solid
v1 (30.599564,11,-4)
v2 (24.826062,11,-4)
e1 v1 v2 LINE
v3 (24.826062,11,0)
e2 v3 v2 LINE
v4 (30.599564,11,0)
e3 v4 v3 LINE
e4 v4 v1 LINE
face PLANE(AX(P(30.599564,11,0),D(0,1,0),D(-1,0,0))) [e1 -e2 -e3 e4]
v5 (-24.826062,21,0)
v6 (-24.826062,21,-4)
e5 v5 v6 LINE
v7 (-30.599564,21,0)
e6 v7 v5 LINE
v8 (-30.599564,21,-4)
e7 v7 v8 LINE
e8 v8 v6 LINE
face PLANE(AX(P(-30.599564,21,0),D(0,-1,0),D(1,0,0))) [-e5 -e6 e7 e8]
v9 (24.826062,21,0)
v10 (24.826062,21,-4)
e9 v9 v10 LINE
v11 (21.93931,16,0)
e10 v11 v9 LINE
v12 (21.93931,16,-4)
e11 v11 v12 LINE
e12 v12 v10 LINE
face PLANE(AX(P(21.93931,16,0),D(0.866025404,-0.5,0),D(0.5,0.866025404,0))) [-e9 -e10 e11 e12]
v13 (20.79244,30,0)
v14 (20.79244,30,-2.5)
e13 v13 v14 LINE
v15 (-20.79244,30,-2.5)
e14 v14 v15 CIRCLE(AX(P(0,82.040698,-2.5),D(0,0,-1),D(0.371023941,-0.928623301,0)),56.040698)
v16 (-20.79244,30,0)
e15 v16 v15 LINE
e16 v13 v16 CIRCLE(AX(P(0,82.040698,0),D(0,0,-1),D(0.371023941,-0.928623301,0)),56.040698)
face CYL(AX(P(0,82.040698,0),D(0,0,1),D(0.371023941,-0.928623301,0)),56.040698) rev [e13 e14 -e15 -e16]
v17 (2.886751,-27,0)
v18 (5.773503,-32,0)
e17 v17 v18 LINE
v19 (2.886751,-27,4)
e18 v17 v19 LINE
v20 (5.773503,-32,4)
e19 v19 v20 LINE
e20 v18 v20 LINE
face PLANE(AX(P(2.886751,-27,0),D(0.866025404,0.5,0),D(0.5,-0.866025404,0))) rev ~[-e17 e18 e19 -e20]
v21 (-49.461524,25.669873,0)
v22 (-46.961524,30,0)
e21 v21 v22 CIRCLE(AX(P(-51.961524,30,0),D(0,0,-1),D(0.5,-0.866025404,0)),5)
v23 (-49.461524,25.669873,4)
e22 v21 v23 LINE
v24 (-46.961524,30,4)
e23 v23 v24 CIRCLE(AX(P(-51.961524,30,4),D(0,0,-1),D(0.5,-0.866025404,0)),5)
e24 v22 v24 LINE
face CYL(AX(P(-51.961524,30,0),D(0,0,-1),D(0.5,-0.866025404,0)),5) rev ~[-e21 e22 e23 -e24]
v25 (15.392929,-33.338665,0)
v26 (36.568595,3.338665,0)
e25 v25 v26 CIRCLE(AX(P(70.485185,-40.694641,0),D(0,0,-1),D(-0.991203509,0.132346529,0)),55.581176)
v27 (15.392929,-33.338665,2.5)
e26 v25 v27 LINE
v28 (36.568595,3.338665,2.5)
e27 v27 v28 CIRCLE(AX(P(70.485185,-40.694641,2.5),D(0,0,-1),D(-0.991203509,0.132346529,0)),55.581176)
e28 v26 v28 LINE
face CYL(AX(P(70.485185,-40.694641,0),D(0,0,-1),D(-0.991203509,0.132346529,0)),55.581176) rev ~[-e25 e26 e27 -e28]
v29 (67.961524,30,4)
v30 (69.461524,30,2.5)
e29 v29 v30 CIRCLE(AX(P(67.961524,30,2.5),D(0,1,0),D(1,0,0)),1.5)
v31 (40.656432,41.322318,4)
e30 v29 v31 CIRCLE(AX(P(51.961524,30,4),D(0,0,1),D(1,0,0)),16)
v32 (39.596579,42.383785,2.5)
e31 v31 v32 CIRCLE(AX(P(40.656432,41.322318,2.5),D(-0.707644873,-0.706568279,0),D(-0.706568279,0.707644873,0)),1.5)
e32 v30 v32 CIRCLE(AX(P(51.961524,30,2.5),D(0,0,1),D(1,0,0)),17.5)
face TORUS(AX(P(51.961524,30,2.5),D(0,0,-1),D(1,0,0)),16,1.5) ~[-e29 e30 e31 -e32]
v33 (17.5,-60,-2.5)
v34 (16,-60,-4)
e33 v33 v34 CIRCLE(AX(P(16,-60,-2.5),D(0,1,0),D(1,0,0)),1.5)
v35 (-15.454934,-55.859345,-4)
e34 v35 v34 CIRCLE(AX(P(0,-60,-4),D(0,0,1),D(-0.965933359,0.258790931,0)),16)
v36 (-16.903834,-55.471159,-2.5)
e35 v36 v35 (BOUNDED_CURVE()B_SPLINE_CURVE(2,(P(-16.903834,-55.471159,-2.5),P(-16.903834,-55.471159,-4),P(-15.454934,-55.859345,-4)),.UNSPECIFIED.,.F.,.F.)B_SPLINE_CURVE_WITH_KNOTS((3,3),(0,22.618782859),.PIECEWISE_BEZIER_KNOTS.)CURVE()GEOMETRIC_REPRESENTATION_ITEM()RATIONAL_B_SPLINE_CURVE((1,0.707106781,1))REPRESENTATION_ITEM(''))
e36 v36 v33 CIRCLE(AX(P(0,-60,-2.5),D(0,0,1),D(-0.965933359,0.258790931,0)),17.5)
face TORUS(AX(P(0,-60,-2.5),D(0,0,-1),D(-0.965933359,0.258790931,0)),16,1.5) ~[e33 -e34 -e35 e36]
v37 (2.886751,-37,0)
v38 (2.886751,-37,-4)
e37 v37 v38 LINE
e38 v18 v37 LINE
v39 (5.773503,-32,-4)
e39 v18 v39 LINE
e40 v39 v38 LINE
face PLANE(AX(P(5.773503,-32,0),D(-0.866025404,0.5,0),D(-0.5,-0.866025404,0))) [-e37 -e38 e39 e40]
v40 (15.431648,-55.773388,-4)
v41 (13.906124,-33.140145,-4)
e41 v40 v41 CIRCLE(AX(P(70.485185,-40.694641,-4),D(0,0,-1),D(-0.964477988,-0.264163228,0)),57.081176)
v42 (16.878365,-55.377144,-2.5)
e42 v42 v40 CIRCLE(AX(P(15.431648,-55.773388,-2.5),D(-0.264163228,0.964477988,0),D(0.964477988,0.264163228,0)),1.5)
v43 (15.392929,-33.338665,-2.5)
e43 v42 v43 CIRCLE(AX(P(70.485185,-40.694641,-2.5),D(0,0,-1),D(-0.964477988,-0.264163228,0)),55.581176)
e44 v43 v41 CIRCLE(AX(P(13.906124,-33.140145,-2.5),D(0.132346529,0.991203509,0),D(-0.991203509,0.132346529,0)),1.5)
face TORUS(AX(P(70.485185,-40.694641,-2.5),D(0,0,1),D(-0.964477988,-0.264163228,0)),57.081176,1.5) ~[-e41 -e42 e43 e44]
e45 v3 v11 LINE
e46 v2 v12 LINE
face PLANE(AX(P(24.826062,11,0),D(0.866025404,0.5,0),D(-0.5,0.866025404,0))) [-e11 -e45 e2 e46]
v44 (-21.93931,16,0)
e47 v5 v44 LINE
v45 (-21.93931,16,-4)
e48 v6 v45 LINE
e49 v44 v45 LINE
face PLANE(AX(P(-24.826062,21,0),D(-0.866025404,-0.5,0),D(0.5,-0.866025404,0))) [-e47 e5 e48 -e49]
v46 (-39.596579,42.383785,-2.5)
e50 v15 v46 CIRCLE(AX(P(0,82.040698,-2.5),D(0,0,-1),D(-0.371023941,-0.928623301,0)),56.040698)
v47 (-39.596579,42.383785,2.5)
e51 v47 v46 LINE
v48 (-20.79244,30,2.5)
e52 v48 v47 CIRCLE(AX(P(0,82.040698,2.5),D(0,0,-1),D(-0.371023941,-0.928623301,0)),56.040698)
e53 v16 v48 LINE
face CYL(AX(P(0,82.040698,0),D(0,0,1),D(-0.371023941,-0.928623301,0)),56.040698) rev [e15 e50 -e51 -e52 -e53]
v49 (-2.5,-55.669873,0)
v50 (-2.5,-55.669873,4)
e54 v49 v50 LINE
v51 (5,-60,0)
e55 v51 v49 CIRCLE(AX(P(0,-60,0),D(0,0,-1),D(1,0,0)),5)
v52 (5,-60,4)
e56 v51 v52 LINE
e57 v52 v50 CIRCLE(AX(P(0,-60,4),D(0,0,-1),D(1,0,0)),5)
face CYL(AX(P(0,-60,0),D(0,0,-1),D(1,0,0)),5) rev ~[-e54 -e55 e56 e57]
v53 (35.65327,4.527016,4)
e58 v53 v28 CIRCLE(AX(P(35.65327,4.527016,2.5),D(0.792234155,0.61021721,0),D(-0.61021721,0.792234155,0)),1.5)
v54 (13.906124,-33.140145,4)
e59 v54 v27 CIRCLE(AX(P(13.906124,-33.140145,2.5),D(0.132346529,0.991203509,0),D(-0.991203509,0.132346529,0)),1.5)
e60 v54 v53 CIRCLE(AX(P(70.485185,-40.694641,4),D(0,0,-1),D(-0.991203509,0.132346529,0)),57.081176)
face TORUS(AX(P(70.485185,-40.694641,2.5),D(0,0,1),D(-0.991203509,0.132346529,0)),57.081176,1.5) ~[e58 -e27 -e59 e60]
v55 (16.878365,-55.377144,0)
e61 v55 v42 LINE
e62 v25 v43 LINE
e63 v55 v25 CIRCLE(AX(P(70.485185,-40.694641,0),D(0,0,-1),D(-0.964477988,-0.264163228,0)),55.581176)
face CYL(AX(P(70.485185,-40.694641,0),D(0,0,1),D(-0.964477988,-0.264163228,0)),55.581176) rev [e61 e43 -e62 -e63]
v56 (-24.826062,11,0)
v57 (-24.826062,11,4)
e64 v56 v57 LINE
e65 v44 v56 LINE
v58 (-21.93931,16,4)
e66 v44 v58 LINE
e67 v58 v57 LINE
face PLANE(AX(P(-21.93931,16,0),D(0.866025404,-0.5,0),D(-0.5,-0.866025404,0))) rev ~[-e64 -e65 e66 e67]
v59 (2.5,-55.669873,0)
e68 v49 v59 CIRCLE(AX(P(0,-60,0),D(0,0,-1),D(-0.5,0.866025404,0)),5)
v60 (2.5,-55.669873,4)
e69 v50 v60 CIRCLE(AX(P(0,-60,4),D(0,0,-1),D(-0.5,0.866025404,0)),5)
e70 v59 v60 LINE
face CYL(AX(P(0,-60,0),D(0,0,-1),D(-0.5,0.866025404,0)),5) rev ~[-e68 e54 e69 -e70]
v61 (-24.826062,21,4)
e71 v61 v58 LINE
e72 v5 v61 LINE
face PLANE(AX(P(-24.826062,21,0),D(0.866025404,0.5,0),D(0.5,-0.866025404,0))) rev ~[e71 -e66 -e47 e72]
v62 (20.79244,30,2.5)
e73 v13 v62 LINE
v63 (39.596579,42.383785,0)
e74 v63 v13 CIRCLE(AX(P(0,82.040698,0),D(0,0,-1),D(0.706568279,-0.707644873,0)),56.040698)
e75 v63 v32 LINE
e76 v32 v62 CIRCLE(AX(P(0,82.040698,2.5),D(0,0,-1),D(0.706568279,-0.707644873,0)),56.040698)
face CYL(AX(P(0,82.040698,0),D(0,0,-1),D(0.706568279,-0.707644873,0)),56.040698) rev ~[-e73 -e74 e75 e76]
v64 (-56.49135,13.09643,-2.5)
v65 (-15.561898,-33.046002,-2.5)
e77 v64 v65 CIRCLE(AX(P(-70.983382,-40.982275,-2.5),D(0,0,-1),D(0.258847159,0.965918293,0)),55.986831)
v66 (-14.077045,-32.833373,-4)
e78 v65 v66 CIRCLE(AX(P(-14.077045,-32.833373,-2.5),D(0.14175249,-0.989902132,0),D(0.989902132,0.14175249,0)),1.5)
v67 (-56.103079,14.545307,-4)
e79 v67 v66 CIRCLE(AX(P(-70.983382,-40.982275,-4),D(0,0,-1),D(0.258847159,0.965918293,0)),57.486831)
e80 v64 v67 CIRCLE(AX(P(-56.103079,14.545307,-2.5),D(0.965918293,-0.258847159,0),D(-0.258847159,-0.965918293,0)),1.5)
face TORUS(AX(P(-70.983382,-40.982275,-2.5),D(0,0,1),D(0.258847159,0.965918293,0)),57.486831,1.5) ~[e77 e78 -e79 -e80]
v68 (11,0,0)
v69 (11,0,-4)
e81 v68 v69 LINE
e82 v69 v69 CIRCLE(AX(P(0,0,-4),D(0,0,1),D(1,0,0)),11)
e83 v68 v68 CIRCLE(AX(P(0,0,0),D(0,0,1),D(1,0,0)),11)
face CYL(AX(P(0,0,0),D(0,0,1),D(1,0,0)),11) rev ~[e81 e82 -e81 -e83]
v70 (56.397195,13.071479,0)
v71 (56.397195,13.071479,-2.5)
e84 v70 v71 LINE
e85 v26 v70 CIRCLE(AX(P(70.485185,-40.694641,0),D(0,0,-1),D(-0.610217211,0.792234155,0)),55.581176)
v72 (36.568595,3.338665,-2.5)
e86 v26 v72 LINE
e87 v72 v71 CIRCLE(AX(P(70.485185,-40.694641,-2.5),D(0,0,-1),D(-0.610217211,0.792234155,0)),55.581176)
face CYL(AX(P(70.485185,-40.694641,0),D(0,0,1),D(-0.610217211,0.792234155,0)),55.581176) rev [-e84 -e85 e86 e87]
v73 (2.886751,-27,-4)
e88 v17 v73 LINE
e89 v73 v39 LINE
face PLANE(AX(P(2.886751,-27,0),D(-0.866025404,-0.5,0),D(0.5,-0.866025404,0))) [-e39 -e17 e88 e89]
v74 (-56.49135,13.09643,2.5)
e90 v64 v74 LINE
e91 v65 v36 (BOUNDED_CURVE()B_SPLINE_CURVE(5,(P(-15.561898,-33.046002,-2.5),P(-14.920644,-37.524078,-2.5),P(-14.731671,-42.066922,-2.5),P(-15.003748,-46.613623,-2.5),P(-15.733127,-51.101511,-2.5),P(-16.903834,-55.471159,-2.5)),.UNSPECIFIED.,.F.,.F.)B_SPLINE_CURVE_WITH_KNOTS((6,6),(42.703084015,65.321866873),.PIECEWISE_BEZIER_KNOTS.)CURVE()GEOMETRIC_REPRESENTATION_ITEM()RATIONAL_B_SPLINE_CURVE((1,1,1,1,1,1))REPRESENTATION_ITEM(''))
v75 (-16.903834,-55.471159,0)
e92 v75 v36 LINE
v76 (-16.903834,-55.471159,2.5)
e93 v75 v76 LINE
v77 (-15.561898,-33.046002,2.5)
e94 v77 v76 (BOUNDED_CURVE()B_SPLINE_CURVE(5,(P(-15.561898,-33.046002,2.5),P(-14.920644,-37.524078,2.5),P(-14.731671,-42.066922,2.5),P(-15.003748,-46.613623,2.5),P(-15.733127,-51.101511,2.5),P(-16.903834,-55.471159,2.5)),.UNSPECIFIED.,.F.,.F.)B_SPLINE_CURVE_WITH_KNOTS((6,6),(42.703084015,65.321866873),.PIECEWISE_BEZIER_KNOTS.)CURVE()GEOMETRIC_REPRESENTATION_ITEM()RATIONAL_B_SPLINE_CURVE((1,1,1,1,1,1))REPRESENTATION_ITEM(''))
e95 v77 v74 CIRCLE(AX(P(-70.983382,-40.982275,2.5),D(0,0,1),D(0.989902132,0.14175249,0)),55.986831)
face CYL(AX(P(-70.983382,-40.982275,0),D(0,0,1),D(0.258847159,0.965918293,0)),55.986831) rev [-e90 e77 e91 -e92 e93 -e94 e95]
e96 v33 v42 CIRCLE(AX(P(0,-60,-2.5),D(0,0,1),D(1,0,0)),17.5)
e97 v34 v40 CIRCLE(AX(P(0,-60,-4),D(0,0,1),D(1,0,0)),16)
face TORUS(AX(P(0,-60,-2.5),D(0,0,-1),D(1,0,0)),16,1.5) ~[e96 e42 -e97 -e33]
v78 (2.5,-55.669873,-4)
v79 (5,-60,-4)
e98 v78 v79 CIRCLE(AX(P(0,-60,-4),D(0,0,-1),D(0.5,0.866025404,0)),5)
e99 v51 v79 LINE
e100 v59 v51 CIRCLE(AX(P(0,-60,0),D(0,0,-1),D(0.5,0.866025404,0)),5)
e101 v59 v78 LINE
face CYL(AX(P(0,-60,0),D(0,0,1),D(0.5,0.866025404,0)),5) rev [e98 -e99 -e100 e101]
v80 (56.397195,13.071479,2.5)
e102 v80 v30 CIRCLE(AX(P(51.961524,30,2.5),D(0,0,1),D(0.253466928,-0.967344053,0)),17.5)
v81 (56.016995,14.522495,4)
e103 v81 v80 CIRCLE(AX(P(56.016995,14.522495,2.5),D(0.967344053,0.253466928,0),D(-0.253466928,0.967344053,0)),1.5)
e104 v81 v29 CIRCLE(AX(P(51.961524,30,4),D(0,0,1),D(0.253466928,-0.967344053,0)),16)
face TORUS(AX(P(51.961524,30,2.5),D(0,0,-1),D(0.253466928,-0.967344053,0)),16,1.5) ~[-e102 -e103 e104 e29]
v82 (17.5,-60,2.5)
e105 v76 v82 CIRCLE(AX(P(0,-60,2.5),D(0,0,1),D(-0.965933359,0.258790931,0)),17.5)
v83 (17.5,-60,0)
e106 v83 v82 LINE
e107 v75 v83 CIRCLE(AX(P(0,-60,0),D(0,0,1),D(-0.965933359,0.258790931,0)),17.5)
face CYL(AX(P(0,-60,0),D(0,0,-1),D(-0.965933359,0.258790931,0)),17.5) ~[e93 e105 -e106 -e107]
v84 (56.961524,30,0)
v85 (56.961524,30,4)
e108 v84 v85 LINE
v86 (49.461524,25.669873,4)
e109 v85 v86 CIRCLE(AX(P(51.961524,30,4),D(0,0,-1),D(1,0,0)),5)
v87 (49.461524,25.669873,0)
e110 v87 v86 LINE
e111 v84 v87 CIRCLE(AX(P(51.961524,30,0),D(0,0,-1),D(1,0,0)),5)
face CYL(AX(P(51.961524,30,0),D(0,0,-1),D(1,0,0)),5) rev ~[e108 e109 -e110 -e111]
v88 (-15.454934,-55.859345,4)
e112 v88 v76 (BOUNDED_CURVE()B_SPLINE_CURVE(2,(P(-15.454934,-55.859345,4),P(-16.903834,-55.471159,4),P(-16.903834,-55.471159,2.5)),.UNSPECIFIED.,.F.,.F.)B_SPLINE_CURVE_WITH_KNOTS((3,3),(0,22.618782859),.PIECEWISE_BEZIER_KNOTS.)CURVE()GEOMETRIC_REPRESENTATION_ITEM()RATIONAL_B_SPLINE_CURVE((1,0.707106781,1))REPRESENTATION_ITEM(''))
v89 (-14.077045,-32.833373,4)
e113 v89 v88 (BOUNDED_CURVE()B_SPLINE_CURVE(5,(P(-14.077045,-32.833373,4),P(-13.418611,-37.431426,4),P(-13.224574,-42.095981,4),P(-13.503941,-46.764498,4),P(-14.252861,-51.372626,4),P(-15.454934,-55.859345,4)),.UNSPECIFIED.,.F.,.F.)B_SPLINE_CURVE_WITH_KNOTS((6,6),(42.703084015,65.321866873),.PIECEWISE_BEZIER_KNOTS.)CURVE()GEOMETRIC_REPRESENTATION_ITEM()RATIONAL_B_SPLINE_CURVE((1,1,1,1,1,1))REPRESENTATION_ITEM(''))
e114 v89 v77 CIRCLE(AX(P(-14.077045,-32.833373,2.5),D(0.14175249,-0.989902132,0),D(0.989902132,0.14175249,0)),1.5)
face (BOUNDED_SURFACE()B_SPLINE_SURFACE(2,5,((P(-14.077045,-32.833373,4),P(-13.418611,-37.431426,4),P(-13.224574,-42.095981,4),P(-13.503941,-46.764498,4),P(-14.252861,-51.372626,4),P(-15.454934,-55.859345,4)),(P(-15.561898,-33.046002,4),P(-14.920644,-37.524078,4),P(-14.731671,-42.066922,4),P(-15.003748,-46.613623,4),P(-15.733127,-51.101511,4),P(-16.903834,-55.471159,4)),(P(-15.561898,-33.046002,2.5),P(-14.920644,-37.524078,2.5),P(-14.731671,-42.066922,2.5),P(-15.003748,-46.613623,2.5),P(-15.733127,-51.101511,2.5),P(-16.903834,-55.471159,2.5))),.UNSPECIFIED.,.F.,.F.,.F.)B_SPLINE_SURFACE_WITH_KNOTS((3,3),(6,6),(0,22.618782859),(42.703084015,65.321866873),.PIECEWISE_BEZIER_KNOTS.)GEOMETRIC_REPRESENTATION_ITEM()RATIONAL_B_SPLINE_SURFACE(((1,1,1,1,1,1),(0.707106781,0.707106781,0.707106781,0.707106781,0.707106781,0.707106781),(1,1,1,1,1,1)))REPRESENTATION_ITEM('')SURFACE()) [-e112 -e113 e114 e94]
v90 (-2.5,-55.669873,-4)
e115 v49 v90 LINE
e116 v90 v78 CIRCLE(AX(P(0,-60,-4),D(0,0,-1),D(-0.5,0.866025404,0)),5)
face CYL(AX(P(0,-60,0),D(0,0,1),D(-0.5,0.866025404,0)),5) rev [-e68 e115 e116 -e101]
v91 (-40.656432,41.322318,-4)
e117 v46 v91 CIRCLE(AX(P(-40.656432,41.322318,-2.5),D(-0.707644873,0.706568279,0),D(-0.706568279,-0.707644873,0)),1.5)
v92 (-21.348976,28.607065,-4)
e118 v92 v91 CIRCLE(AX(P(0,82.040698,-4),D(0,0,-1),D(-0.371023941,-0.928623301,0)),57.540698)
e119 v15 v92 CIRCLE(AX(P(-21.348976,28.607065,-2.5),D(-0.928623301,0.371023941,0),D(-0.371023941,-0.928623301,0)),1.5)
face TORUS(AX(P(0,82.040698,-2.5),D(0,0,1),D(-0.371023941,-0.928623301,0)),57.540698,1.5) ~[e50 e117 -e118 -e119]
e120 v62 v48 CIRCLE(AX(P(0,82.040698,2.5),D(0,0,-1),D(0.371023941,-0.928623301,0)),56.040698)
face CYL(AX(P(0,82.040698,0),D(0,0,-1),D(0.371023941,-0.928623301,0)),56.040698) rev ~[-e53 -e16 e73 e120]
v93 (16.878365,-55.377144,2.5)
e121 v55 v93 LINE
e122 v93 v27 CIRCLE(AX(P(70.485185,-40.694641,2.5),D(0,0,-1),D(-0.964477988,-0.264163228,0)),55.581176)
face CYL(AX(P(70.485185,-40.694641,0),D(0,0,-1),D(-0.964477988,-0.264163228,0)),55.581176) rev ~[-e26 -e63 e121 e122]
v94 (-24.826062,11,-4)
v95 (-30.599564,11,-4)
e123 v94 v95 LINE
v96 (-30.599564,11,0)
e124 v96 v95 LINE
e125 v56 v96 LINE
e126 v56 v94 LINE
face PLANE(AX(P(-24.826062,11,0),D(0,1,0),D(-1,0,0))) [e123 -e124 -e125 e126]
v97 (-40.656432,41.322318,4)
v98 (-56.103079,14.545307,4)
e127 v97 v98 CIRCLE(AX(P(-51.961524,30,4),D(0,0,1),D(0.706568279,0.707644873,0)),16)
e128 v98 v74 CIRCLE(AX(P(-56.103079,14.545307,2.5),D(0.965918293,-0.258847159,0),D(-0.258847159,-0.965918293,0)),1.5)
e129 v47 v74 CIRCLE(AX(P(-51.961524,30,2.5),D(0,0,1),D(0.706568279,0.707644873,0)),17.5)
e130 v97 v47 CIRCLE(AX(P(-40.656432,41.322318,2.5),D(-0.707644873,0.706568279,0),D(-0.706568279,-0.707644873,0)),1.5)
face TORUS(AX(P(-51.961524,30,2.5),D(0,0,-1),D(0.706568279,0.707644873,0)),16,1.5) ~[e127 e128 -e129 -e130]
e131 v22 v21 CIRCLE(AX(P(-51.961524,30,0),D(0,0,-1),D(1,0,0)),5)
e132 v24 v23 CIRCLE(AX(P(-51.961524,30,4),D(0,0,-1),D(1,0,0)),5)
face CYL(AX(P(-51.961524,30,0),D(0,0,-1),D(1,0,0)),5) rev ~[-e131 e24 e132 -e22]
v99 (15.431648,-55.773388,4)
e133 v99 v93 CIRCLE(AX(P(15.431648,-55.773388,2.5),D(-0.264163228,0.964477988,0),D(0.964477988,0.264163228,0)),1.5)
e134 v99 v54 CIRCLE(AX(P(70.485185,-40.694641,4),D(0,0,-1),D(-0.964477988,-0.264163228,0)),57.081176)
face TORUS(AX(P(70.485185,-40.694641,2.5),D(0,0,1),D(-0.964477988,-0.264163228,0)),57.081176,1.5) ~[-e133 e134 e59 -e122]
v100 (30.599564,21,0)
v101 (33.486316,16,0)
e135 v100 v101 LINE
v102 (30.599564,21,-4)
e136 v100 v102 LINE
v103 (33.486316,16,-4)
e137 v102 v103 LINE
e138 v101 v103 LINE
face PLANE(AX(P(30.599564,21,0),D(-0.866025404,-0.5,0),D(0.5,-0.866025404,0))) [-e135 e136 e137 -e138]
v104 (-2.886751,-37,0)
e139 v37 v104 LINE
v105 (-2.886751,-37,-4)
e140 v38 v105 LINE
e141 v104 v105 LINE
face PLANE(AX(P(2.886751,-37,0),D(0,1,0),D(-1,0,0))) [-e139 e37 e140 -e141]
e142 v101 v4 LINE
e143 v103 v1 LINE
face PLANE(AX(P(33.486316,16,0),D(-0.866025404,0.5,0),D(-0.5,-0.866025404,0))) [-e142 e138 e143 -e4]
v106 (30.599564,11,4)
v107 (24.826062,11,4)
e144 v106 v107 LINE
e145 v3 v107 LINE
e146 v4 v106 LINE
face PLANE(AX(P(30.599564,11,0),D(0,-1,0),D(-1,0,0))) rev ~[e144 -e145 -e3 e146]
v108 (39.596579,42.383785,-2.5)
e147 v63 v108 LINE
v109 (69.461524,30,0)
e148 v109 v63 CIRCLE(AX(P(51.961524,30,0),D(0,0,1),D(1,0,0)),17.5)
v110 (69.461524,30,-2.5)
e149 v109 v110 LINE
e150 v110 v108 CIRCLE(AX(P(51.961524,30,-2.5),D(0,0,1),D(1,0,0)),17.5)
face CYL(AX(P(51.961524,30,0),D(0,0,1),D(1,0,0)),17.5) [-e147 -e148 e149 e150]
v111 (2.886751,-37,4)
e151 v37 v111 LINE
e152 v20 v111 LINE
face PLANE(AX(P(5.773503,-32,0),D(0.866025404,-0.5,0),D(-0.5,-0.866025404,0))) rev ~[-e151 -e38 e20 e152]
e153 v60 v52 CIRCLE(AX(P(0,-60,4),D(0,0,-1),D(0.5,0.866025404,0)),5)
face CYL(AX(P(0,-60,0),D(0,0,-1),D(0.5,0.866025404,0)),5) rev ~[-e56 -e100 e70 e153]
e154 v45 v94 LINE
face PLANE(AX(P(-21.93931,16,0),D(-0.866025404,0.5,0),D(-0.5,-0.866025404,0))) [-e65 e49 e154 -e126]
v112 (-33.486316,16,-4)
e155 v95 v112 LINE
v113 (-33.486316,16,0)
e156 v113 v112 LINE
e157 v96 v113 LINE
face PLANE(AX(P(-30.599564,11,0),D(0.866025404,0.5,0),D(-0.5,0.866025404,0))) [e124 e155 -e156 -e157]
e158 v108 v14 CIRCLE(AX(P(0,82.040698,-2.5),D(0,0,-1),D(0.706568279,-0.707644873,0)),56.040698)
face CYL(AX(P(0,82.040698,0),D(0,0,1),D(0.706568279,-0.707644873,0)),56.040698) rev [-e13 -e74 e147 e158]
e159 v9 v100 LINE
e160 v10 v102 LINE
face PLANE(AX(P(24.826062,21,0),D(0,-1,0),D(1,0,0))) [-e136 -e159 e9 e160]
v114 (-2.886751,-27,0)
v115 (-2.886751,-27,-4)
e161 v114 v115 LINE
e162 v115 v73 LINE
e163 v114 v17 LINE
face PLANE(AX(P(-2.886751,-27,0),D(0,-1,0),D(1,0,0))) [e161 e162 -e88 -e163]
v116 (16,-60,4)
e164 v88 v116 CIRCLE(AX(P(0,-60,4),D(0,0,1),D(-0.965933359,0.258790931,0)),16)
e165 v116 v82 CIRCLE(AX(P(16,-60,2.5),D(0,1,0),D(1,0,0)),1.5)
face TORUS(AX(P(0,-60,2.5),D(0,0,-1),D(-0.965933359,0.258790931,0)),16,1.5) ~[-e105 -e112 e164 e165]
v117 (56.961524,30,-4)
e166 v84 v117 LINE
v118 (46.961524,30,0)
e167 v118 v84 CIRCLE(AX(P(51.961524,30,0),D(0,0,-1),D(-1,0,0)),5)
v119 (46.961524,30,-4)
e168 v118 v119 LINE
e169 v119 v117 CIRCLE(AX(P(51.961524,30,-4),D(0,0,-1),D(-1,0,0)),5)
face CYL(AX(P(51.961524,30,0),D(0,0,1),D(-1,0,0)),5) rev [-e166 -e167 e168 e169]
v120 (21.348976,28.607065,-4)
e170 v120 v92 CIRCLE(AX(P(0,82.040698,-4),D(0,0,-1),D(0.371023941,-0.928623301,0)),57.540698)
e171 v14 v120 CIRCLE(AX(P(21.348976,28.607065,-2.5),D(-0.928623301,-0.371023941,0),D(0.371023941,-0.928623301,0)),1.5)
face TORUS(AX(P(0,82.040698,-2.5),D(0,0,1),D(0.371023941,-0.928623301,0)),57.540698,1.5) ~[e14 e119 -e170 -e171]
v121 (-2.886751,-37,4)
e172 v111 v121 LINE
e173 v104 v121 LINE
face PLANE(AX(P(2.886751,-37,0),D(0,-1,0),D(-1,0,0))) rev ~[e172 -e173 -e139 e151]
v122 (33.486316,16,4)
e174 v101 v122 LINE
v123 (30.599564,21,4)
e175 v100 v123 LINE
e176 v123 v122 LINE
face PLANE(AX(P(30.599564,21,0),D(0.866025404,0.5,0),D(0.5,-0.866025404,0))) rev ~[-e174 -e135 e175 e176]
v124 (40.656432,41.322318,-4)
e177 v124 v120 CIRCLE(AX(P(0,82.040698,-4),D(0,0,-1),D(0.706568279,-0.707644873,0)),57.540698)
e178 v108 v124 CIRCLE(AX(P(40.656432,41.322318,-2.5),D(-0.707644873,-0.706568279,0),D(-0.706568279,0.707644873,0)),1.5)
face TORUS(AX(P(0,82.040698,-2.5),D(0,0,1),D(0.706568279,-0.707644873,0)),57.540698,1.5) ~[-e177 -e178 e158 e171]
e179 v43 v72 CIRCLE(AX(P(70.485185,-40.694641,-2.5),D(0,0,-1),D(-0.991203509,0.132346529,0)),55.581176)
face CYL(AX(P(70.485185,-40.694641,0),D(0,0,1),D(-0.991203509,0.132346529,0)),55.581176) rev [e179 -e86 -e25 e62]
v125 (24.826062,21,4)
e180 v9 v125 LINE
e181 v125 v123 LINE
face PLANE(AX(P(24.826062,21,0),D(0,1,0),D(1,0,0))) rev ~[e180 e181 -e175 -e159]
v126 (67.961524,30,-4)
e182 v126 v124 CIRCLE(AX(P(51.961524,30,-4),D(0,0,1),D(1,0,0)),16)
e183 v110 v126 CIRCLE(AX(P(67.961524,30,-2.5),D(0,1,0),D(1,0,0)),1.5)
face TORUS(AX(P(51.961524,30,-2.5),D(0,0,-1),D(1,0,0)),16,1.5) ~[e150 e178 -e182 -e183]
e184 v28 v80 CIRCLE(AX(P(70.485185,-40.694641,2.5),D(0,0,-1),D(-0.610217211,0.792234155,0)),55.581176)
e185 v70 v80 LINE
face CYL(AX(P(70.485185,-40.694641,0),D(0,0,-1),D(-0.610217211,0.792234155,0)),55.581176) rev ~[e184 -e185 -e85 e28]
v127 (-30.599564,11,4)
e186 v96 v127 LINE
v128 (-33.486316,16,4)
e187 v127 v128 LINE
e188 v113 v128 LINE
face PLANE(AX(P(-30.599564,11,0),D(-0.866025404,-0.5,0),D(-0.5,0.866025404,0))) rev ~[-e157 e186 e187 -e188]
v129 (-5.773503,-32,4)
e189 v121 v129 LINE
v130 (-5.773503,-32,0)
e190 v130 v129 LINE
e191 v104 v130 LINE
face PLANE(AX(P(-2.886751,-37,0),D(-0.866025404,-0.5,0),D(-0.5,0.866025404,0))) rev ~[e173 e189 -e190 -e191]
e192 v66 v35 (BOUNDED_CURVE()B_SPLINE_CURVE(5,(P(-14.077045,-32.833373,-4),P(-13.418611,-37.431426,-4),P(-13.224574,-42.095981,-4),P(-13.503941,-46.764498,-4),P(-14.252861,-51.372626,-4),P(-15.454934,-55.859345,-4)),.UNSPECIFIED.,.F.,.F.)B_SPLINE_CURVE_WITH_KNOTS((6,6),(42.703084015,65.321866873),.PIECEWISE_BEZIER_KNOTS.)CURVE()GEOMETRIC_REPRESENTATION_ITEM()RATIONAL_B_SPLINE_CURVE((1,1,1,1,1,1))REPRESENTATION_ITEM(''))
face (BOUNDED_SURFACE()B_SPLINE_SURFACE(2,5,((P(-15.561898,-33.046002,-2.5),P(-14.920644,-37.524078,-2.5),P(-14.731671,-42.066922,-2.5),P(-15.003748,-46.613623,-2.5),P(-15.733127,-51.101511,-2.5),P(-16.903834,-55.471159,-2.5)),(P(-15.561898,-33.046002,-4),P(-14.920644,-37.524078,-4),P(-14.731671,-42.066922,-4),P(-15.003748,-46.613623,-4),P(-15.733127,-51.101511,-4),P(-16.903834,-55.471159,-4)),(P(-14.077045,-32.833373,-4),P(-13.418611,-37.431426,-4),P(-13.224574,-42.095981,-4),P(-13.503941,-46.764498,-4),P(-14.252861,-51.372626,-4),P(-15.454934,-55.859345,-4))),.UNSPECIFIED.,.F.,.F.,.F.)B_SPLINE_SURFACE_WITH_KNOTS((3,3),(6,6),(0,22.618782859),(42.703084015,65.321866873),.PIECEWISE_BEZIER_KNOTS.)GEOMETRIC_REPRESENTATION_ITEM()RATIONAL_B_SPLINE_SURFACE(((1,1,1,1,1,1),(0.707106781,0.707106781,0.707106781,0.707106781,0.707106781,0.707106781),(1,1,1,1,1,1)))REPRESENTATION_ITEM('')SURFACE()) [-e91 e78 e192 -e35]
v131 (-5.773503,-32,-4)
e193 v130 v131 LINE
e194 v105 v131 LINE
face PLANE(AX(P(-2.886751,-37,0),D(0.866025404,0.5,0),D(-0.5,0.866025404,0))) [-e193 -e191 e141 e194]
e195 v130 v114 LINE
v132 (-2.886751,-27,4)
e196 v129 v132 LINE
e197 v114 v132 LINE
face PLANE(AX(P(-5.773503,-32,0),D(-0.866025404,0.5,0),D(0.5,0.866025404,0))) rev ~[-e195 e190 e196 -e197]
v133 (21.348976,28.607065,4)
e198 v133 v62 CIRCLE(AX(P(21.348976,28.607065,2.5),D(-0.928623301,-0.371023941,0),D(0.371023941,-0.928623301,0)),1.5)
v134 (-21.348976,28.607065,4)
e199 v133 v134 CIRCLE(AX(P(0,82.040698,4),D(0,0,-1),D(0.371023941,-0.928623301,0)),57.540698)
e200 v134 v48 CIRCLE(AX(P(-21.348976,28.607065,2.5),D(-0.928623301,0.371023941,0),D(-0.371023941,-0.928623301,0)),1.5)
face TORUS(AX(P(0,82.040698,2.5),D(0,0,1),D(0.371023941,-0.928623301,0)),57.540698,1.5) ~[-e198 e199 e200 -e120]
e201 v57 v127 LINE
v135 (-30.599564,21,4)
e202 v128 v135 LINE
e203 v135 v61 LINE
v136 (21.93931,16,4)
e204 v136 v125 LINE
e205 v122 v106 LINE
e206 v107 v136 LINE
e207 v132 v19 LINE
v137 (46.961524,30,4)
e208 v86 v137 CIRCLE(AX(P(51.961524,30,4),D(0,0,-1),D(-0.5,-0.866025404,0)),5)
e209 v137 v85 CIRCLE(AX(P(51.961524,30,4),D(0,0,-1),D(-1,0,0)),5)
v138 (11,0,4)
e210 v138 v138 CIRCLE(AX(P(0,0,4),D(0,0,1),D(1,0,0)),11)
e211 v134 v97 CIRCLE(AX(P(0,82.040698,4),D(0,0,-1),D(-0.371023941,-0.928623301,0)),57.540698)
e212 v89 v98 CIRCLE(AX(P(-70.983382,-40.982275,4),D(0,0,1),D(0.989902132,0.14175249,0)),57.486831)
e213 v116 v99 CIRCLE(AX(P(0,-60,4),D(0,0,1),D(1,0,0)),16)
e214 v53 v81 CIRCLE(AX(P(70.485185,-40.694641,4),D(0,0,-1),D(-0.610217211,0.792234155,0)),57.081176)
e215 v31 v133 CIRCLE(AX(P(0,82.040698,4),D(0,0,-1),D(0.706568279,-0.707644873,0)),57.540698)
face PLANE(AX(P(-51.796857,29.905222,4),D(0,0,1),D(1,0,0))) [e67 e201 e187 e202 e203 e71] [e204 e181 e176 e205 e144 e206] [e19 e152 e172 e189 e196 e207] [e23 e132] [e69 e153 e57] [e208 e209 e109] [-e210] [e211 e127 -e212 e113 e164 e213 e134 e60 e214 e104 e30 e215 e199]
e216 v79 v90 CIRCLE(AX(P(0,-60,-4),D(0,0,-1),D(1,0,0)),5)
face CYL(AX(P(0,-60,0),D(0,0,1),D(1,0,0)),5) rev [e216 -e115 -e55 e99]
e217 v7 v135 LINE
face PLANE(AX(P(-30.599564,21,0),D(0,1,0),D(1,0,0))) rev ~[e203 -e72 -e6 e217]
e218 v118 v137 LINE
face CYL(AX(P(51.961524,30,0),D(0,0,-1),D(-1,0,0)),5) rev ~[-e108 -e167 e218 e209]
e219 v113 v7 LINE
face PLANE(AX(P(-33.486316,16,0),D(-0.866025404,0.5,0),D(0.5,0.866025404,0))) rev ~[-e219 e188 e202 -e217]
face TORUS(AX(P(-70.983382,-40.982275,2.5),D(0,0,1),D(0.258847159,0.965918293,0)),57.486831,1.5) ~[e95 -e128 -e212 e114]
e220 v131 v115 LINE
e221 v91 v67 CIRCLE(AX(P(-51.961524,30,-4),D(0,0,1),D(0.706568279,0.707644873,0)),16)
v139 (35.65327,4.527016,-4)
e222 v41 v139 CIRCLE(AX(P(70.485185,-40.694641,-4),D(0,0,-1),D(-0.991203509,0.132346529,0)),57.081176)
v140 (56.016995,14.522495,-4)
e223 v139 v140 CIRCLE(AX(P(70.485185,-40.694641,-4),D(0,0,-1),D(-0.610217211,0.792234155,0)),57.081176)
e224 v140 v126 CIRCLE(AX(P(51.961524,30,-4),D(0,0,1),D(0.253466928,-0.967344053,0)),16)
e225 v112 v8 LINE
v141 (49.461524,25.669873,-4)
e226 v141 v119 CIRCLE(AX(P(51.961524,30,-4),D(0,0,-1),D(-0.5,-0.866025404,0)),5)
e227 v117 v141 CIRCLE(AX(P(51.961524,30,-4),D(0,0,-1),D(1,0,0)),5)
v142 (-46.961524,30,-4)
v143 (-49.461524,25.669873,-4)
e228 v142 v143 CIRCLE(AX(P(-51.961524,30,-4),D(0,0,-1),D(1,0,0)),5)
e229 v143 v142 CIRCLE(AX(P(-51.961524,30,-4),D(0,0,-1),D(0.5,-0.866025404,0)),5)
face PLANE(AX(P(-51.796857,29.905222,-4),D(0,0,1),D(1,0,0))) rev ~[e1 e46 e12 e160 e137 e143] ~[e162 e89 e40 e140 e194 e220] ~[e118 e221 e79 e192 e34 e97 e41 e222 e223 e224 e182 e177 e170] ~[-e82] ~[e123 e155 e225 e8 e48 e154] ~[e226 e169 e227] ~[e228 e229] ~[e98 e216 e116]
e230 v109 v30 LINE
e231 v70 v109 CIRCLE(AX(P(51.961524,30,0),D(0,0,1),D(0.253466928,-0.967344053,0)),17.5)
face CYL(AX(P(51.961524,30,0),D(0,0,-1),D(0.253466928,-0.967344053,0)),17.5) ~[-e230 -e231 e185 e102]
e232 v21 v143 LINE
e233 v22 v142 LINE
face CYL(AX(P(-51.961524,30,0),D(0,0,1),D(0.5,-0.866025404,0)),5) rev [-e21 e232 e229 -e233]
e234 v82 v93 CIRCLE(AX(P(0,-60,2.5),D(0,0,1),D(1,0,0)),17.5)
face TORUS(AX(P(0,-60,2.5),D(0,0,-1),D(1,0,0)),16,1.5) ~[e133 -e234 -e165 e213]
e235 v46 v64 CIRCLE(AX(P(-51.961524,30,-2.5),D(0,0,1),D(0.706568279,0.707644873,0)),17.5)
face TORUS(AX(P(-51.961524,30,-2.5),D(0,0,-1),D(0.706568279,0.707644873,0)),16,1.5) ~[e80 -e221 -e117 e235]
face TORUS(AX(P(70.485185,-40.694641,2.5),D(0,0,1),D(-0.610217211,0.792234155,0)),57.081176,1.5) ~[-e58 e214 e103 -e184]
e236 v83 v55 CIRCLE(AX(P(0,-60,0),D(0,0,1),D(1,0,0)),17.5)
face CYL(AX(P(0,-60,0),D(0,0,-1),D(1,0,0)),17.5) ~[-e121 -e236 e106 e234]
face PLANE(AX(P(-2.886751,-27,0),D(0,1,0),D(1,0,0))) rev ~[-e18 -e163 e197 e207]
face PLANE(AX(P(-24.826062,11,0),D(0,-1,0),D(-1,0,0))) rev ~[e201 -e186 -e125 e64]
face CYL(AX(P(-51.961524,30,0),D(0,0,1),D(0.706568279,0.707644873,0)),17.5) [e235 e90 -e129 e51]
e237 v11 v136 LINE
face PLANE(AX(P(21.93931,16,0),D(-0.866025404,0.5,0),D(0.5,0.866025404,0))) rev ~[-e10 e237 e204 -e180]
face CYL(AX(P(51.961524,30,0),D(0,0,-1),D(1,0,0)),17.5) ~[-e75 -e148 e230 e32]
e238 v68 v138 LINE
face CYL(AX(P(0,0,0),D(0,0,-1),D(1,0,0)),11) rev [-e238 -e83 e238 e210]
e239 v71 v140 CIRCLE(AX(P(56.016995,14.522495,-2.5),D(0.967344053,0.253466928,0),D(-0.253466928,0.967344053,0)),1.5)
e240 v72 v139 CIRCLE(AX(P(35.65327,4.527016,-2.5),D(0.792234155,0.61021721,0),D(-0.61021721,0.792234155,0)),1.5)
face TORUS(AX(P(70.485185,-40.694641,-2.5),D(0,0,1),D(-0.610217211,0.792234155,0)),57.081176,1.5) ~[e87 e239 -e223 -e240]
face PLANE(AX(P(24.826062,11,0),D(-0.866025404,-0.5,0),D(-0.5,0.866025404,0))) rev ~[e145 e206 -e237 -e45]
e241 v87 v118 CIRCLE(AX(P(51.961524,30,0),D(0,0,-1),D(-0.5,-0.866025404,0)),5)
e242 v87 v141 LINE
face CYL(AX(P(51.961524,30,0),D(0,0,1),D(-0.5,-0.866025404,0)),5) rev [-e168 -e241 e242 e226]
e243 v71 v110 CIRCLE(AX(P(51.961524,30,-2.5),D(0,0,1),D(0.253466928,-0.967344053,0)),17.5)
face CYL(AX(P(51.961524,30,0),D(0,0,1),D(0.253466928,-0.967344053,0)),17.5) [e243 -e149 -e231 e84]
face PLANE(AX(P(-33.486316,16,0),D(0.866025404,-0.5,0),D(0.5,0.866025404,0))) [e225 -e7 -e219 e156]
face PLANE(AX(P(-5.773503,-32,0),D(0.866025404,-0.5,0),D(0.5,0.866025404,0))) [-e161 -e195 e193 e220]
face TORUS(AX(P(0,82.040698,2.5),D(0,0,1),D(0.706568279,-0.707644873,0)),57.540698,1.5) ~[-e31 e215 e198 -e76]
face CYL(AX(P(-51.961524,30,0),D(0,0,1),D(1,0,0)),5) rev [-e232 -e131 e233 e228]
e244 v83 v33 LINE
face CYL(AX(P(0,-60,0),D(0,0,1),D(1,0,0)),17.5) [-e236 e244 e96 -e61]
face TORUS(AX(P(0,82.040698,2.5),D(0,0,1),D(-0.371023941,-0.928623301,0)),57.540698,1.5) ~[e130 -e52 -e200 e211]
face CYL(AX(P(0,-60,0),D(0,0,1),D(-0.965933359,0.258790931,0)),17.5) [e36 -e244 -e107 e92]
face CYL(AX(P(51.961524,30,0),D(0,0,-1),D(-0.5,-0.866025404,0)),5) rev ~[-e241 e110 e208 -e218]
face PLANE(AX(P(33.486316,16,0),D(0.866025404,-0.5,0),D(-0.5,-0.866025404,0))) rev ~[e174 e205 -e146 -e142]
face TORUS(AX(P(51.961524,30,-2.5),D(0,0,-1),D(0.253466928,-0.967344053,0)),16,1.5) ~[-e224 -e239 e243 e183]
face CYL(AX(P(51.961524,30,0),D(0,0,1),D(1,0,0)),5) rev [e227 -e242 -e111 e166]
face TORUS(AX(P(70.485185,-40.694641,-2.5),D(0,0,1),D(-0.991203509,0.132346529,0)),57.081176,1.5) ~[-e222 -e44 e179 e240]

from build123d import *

# Parameters (mm, degrees)
F0_R     = 11
F1_DEPTH = 4
F2_R     = 1.5


with BuildPart() as f1:
    # F0 (on Top) → F1 (new body, symmetric)
    with BuildSketch(Plane.XY):
        with BuildLine():
            ThreePointArc((-49.4615242271, 25.6698729811), (-56.291651246, 32.5), (-46.9615242271, 30))
            Line((-46.9615242271, 30), (-34.4615242271, 30))
            ThreePointArc((-34.4615242271, 30), (-35.7961826657, 36.7031136202), (-39.5965793363, 42.3837852795))
            ThreePointArc((-39.5965793363, 42.3837852795), (-67.1201709813, 38.7444513024), (-56.491349512, 13.0964298775))
            ThreePointArc((-56.491349512, 13.0964298775), (-49.6775683614, 12.6496816858), (-43.2115242271, 14.8445554338))
            Line((-43.2115242271, 14.8445554338), (-49.4615242271, 25.6698729811))
        make_face()
        with BuildLine():
            Line((-34.4615242271, 30), (-46.9615242271, 30))
            ThreePointArc((-46.9615242271, 30), (-47.6313972081, 27.5), (-49.4615242271, 25.6698729811))
            Line((-49.4615242271, 25.6698729811), (-43.2115242271, 14.8445554338))
            ThreePointArc((-43.2115242271, 14.8445554338), (-36.8060796608, 21.25), (-34.4615242271, 30))
        make_face()
        with BuildLine():
            ThreePointArc((-39.5965793363, 42.3837852795), (-35.7961826657, 36.7031136202), (-34.4615242271, 30))
            Line((-34.4615242271, 30), (-20.7924404868, 30))
            ThreePointArc((-20.7924404868, 30), (-30.8228480718, 35.2377935703), (-39.5965793363, 42.3837852795))
        make_face()
        with BuildLine():
            Line((-36.3996261046, 3.0460017896), (-43.2115242271, 14.8445554338))
            ThreePointArc((-43.2115242271, 14.8445554338), (-49.6775683614, 12.6496816858), (-56.491349512, 13.0964298775))
            ThreePointArc((-56.491349512, 13.0964298775), (-45.9362059549, 9.0893167587), (-36.3996261046, 3.0460017896))
        make_face()
        with BuildLine():
            Line((-2.5, -55.6698729811), (-8.75, -44.8445554338))
            ThreePointArc((-8.75, -44.8445554338), (-13.883838491, -49.3468770421), (-16.9038337833, -55.4711587102))
            ThreePointArc((-16.9038337833, -55.4711587102), (-2.2839558657, -77.3503183142), (17.5, -60))
            ThreePointArc((17.5, -60), (17.3438949461, -57.6677675721), (16.8783647888, -55.3771435177))
            ThreePointArc((16.8783647888, -55.3771435177), (13.8541374099, -49.3082799968), (8.75, -44.8445554338))
            Line((8.75, -44.8445554338), (2.5, -55.6698729811))
            ThreePointArc((2.5, -55.6698729811), (4.3301270189, -57.5), (5, -60))
            ThreePointArc((5, -60), (-2.5, -64.3301270189), (-2.5, -55.6698729811))
        make_face()
        with BuildLine():
            Line((-8.75, -44.8445554338), (-15.5618981225, -33.0460017896))
            ThreePointArc((-15.5618981225, -33.0460017896), (-15.0965237613, -44.3265796898), (-16.9038337833, -55.4711587102))
            ThreePointArc((-16.9038337833, -55.4711587102), (-13.883838491, -49.3468770421), (-8.75, -44.8445554338))
        make_face()
        with BuildLine():
            ThreePointArc((8.75, -44.8445554338), (0, -42.5), (-8.75, -44.8445554338))
            Line((-8.75, -44.8445554338), (-2.5, -55.6698729811))
            ThreePointArc((-2.5, -55.6698729811), (0, -55), (2.5, -55.6698729811))
            Line((2.5, -55.6698729811), (8.75, -44.8445554338))
        make_face()
        with BuildLine():
            Line((15.3929289028, -33.3386650631), (8.75, -44.8445554338))
            ThreePointArc((8.75, -44.8445554338), (13.8541374099, -49.3082799968), (16.8783647888, -55.3771435177))
            ThreePointArc((16.8783647888, -55.3771435177), (15.0298342217, -44.4324381907), (15.3929289028, -33.3386650631))
        make_face()
        with BuildLine():
            Line((-20.7924404868, 30), (-34.4615242271, 30))
            ThreePointArc((-34.4615242271, 30), (-36.8060796608, 21.25), (-43.2115242271, 14.8445554338))
            Line((-43.2115242271, 14.8445554338), (-36.3996261046, 3.0460017896))
            ThreePointArc((-36.3996261046, 3.0460017896), (-22.4973636114, -12.9888589371), (-15.5618981225, -33.0460017896))
            Line((-15.5618981225, -33.0460017896), (-8.75, -44.8445554338))
            ThreePointArc((-8.75, -44.8445554338), (0, -42.5), (8.75, -44.8445554338))
            Line((8.75, -44.8445554338), (15.3929289028, -33.3386650631))
            ThreePointArc((15.3929289028, -33.3386650631), (22.3504751723, -12.9040528573), (36.5685953243, 3.3386650631))
            Line((36.5685953243, 3.3386650631), (43.2115242271, 14.8445554338))
            ThreePointArc((43.2115242271, 14.8445554338), (36.8060796608, 21.25), (34.4615242271, 30))
            Line((34.4615242271, 30), (20.7924404868, 30))
            ThreePointArc((20.7924404868, 30), (0, 26), (-20.7924404868, 30))
        make_face()
        Polygon((-5.7735026919, -32), (-2.8867513459, -27), (2.8867513459, -27), (5.7735026919, -32), (2.8867513459, -37), (-2.8867513459, -37), align=None, mode=Mode.SUBTRACT)
        Polygon((-24.8260615752, 21), (-21.9393102292, 16), (-24.8260615752, 11), (-30.5995642671, 11), (-33.486315613, 16), (-30.5995642671, 21), align=None, mode=Mode.SUBTRACT)
        Circle(F0_R, mode=Mode.SUBTRACT)
        Polygon((30.5995642671, 11), (24.8260615752, 11), (21.9393102292, 16), (24.8260615752, 21), (30.5995642671, 21), (33.486315613, 16), align=None, mode=Mode.SUBTRACT)
        with BuildLine():
            Line((46.9615242271, 30), (34.4615242271, 30))
            ThreePointArc((34.4615242271, 30), (36.8060796608, 21.25), (43.2115242271, 14.8445554338))
            Line((43.2115242271, 14.8445554338), (49.4615242271, 25.6698729811))
            ThreePointArc((49.4615242271, 25.6698729811), (47.6313972081, 27.5), (46.9615242271, 30))
        make_face()
        with BuildLine():
            ThreePointArc((56.3971954698, 13.0714790774), (49.6292917991, 12.6561050539), (43.2115242271, 14.8445554338))
            Line((43.2115242271, 14.8445554338), (36.5685953243, 3.3386650631))
            ThreePointArc((36.5685953243, 3.3386650631), (45.994537336, 9.2000008447), (56.3971954698, 13.0714790774))
        make_face()
        with BuildLine():
            ThreePointArc((39.5965793363, 42.3837852795), (35.7961826657, 36.7031136202), (34.4615242271, 30))
            Line((34.4615242271, 30), (46.9615242271, 30))
            ThreePointArc((46.9615242271, 30), (51.9615242271, 35), (56.9615242271, 30))
            ThreePointArc((56.9615242271, 30), (54.4615242271, 25.6698729811), (49.4615242271, 25.6698729811))
            Line((49.4615242271, 25.6698729811), (43.2115242271, 14.8445554338))
            ThreePointArc((43.2115242271, 14.8445554338), (49.6292917991, 12.6561050539), (56.3971954698, 13.0714790774))
            ThreePointArc((56.3971954698, 13.0714790774), (65.815661637, 19.3082799968), (69.4615242271, 30))
            ThreePointArc((69.4615242271, 30), (58.6646378473, 46.1653415613), (39.5965793363, 42.3837852795))
        make_face()
        with BuildLine():
            ThreePointArc((39.5965793363, 42.3837852795), (30.8228480718, 35.2377935703), (20.7924404868, 30))
            Line((20.7924404868, 30), (34.4615242271, 30))
            ThreePointArc((34.4615242271, 30), (35.7961826657, 36.7031136202), (39.5965793363, 42.3837852795))
        make_face()
    extrude(amount=F1_DEPTH, both=True)

    # F2
    f2_edges = [f1.edges().sort_by_distance(p)[0] for p in [
        (-22.497364, -12.988859, 4),
        (-22.497364, -12.988859, -4),
    ]]
    fillet(f2_edges, radius=F2_R)


solid = f1.part
